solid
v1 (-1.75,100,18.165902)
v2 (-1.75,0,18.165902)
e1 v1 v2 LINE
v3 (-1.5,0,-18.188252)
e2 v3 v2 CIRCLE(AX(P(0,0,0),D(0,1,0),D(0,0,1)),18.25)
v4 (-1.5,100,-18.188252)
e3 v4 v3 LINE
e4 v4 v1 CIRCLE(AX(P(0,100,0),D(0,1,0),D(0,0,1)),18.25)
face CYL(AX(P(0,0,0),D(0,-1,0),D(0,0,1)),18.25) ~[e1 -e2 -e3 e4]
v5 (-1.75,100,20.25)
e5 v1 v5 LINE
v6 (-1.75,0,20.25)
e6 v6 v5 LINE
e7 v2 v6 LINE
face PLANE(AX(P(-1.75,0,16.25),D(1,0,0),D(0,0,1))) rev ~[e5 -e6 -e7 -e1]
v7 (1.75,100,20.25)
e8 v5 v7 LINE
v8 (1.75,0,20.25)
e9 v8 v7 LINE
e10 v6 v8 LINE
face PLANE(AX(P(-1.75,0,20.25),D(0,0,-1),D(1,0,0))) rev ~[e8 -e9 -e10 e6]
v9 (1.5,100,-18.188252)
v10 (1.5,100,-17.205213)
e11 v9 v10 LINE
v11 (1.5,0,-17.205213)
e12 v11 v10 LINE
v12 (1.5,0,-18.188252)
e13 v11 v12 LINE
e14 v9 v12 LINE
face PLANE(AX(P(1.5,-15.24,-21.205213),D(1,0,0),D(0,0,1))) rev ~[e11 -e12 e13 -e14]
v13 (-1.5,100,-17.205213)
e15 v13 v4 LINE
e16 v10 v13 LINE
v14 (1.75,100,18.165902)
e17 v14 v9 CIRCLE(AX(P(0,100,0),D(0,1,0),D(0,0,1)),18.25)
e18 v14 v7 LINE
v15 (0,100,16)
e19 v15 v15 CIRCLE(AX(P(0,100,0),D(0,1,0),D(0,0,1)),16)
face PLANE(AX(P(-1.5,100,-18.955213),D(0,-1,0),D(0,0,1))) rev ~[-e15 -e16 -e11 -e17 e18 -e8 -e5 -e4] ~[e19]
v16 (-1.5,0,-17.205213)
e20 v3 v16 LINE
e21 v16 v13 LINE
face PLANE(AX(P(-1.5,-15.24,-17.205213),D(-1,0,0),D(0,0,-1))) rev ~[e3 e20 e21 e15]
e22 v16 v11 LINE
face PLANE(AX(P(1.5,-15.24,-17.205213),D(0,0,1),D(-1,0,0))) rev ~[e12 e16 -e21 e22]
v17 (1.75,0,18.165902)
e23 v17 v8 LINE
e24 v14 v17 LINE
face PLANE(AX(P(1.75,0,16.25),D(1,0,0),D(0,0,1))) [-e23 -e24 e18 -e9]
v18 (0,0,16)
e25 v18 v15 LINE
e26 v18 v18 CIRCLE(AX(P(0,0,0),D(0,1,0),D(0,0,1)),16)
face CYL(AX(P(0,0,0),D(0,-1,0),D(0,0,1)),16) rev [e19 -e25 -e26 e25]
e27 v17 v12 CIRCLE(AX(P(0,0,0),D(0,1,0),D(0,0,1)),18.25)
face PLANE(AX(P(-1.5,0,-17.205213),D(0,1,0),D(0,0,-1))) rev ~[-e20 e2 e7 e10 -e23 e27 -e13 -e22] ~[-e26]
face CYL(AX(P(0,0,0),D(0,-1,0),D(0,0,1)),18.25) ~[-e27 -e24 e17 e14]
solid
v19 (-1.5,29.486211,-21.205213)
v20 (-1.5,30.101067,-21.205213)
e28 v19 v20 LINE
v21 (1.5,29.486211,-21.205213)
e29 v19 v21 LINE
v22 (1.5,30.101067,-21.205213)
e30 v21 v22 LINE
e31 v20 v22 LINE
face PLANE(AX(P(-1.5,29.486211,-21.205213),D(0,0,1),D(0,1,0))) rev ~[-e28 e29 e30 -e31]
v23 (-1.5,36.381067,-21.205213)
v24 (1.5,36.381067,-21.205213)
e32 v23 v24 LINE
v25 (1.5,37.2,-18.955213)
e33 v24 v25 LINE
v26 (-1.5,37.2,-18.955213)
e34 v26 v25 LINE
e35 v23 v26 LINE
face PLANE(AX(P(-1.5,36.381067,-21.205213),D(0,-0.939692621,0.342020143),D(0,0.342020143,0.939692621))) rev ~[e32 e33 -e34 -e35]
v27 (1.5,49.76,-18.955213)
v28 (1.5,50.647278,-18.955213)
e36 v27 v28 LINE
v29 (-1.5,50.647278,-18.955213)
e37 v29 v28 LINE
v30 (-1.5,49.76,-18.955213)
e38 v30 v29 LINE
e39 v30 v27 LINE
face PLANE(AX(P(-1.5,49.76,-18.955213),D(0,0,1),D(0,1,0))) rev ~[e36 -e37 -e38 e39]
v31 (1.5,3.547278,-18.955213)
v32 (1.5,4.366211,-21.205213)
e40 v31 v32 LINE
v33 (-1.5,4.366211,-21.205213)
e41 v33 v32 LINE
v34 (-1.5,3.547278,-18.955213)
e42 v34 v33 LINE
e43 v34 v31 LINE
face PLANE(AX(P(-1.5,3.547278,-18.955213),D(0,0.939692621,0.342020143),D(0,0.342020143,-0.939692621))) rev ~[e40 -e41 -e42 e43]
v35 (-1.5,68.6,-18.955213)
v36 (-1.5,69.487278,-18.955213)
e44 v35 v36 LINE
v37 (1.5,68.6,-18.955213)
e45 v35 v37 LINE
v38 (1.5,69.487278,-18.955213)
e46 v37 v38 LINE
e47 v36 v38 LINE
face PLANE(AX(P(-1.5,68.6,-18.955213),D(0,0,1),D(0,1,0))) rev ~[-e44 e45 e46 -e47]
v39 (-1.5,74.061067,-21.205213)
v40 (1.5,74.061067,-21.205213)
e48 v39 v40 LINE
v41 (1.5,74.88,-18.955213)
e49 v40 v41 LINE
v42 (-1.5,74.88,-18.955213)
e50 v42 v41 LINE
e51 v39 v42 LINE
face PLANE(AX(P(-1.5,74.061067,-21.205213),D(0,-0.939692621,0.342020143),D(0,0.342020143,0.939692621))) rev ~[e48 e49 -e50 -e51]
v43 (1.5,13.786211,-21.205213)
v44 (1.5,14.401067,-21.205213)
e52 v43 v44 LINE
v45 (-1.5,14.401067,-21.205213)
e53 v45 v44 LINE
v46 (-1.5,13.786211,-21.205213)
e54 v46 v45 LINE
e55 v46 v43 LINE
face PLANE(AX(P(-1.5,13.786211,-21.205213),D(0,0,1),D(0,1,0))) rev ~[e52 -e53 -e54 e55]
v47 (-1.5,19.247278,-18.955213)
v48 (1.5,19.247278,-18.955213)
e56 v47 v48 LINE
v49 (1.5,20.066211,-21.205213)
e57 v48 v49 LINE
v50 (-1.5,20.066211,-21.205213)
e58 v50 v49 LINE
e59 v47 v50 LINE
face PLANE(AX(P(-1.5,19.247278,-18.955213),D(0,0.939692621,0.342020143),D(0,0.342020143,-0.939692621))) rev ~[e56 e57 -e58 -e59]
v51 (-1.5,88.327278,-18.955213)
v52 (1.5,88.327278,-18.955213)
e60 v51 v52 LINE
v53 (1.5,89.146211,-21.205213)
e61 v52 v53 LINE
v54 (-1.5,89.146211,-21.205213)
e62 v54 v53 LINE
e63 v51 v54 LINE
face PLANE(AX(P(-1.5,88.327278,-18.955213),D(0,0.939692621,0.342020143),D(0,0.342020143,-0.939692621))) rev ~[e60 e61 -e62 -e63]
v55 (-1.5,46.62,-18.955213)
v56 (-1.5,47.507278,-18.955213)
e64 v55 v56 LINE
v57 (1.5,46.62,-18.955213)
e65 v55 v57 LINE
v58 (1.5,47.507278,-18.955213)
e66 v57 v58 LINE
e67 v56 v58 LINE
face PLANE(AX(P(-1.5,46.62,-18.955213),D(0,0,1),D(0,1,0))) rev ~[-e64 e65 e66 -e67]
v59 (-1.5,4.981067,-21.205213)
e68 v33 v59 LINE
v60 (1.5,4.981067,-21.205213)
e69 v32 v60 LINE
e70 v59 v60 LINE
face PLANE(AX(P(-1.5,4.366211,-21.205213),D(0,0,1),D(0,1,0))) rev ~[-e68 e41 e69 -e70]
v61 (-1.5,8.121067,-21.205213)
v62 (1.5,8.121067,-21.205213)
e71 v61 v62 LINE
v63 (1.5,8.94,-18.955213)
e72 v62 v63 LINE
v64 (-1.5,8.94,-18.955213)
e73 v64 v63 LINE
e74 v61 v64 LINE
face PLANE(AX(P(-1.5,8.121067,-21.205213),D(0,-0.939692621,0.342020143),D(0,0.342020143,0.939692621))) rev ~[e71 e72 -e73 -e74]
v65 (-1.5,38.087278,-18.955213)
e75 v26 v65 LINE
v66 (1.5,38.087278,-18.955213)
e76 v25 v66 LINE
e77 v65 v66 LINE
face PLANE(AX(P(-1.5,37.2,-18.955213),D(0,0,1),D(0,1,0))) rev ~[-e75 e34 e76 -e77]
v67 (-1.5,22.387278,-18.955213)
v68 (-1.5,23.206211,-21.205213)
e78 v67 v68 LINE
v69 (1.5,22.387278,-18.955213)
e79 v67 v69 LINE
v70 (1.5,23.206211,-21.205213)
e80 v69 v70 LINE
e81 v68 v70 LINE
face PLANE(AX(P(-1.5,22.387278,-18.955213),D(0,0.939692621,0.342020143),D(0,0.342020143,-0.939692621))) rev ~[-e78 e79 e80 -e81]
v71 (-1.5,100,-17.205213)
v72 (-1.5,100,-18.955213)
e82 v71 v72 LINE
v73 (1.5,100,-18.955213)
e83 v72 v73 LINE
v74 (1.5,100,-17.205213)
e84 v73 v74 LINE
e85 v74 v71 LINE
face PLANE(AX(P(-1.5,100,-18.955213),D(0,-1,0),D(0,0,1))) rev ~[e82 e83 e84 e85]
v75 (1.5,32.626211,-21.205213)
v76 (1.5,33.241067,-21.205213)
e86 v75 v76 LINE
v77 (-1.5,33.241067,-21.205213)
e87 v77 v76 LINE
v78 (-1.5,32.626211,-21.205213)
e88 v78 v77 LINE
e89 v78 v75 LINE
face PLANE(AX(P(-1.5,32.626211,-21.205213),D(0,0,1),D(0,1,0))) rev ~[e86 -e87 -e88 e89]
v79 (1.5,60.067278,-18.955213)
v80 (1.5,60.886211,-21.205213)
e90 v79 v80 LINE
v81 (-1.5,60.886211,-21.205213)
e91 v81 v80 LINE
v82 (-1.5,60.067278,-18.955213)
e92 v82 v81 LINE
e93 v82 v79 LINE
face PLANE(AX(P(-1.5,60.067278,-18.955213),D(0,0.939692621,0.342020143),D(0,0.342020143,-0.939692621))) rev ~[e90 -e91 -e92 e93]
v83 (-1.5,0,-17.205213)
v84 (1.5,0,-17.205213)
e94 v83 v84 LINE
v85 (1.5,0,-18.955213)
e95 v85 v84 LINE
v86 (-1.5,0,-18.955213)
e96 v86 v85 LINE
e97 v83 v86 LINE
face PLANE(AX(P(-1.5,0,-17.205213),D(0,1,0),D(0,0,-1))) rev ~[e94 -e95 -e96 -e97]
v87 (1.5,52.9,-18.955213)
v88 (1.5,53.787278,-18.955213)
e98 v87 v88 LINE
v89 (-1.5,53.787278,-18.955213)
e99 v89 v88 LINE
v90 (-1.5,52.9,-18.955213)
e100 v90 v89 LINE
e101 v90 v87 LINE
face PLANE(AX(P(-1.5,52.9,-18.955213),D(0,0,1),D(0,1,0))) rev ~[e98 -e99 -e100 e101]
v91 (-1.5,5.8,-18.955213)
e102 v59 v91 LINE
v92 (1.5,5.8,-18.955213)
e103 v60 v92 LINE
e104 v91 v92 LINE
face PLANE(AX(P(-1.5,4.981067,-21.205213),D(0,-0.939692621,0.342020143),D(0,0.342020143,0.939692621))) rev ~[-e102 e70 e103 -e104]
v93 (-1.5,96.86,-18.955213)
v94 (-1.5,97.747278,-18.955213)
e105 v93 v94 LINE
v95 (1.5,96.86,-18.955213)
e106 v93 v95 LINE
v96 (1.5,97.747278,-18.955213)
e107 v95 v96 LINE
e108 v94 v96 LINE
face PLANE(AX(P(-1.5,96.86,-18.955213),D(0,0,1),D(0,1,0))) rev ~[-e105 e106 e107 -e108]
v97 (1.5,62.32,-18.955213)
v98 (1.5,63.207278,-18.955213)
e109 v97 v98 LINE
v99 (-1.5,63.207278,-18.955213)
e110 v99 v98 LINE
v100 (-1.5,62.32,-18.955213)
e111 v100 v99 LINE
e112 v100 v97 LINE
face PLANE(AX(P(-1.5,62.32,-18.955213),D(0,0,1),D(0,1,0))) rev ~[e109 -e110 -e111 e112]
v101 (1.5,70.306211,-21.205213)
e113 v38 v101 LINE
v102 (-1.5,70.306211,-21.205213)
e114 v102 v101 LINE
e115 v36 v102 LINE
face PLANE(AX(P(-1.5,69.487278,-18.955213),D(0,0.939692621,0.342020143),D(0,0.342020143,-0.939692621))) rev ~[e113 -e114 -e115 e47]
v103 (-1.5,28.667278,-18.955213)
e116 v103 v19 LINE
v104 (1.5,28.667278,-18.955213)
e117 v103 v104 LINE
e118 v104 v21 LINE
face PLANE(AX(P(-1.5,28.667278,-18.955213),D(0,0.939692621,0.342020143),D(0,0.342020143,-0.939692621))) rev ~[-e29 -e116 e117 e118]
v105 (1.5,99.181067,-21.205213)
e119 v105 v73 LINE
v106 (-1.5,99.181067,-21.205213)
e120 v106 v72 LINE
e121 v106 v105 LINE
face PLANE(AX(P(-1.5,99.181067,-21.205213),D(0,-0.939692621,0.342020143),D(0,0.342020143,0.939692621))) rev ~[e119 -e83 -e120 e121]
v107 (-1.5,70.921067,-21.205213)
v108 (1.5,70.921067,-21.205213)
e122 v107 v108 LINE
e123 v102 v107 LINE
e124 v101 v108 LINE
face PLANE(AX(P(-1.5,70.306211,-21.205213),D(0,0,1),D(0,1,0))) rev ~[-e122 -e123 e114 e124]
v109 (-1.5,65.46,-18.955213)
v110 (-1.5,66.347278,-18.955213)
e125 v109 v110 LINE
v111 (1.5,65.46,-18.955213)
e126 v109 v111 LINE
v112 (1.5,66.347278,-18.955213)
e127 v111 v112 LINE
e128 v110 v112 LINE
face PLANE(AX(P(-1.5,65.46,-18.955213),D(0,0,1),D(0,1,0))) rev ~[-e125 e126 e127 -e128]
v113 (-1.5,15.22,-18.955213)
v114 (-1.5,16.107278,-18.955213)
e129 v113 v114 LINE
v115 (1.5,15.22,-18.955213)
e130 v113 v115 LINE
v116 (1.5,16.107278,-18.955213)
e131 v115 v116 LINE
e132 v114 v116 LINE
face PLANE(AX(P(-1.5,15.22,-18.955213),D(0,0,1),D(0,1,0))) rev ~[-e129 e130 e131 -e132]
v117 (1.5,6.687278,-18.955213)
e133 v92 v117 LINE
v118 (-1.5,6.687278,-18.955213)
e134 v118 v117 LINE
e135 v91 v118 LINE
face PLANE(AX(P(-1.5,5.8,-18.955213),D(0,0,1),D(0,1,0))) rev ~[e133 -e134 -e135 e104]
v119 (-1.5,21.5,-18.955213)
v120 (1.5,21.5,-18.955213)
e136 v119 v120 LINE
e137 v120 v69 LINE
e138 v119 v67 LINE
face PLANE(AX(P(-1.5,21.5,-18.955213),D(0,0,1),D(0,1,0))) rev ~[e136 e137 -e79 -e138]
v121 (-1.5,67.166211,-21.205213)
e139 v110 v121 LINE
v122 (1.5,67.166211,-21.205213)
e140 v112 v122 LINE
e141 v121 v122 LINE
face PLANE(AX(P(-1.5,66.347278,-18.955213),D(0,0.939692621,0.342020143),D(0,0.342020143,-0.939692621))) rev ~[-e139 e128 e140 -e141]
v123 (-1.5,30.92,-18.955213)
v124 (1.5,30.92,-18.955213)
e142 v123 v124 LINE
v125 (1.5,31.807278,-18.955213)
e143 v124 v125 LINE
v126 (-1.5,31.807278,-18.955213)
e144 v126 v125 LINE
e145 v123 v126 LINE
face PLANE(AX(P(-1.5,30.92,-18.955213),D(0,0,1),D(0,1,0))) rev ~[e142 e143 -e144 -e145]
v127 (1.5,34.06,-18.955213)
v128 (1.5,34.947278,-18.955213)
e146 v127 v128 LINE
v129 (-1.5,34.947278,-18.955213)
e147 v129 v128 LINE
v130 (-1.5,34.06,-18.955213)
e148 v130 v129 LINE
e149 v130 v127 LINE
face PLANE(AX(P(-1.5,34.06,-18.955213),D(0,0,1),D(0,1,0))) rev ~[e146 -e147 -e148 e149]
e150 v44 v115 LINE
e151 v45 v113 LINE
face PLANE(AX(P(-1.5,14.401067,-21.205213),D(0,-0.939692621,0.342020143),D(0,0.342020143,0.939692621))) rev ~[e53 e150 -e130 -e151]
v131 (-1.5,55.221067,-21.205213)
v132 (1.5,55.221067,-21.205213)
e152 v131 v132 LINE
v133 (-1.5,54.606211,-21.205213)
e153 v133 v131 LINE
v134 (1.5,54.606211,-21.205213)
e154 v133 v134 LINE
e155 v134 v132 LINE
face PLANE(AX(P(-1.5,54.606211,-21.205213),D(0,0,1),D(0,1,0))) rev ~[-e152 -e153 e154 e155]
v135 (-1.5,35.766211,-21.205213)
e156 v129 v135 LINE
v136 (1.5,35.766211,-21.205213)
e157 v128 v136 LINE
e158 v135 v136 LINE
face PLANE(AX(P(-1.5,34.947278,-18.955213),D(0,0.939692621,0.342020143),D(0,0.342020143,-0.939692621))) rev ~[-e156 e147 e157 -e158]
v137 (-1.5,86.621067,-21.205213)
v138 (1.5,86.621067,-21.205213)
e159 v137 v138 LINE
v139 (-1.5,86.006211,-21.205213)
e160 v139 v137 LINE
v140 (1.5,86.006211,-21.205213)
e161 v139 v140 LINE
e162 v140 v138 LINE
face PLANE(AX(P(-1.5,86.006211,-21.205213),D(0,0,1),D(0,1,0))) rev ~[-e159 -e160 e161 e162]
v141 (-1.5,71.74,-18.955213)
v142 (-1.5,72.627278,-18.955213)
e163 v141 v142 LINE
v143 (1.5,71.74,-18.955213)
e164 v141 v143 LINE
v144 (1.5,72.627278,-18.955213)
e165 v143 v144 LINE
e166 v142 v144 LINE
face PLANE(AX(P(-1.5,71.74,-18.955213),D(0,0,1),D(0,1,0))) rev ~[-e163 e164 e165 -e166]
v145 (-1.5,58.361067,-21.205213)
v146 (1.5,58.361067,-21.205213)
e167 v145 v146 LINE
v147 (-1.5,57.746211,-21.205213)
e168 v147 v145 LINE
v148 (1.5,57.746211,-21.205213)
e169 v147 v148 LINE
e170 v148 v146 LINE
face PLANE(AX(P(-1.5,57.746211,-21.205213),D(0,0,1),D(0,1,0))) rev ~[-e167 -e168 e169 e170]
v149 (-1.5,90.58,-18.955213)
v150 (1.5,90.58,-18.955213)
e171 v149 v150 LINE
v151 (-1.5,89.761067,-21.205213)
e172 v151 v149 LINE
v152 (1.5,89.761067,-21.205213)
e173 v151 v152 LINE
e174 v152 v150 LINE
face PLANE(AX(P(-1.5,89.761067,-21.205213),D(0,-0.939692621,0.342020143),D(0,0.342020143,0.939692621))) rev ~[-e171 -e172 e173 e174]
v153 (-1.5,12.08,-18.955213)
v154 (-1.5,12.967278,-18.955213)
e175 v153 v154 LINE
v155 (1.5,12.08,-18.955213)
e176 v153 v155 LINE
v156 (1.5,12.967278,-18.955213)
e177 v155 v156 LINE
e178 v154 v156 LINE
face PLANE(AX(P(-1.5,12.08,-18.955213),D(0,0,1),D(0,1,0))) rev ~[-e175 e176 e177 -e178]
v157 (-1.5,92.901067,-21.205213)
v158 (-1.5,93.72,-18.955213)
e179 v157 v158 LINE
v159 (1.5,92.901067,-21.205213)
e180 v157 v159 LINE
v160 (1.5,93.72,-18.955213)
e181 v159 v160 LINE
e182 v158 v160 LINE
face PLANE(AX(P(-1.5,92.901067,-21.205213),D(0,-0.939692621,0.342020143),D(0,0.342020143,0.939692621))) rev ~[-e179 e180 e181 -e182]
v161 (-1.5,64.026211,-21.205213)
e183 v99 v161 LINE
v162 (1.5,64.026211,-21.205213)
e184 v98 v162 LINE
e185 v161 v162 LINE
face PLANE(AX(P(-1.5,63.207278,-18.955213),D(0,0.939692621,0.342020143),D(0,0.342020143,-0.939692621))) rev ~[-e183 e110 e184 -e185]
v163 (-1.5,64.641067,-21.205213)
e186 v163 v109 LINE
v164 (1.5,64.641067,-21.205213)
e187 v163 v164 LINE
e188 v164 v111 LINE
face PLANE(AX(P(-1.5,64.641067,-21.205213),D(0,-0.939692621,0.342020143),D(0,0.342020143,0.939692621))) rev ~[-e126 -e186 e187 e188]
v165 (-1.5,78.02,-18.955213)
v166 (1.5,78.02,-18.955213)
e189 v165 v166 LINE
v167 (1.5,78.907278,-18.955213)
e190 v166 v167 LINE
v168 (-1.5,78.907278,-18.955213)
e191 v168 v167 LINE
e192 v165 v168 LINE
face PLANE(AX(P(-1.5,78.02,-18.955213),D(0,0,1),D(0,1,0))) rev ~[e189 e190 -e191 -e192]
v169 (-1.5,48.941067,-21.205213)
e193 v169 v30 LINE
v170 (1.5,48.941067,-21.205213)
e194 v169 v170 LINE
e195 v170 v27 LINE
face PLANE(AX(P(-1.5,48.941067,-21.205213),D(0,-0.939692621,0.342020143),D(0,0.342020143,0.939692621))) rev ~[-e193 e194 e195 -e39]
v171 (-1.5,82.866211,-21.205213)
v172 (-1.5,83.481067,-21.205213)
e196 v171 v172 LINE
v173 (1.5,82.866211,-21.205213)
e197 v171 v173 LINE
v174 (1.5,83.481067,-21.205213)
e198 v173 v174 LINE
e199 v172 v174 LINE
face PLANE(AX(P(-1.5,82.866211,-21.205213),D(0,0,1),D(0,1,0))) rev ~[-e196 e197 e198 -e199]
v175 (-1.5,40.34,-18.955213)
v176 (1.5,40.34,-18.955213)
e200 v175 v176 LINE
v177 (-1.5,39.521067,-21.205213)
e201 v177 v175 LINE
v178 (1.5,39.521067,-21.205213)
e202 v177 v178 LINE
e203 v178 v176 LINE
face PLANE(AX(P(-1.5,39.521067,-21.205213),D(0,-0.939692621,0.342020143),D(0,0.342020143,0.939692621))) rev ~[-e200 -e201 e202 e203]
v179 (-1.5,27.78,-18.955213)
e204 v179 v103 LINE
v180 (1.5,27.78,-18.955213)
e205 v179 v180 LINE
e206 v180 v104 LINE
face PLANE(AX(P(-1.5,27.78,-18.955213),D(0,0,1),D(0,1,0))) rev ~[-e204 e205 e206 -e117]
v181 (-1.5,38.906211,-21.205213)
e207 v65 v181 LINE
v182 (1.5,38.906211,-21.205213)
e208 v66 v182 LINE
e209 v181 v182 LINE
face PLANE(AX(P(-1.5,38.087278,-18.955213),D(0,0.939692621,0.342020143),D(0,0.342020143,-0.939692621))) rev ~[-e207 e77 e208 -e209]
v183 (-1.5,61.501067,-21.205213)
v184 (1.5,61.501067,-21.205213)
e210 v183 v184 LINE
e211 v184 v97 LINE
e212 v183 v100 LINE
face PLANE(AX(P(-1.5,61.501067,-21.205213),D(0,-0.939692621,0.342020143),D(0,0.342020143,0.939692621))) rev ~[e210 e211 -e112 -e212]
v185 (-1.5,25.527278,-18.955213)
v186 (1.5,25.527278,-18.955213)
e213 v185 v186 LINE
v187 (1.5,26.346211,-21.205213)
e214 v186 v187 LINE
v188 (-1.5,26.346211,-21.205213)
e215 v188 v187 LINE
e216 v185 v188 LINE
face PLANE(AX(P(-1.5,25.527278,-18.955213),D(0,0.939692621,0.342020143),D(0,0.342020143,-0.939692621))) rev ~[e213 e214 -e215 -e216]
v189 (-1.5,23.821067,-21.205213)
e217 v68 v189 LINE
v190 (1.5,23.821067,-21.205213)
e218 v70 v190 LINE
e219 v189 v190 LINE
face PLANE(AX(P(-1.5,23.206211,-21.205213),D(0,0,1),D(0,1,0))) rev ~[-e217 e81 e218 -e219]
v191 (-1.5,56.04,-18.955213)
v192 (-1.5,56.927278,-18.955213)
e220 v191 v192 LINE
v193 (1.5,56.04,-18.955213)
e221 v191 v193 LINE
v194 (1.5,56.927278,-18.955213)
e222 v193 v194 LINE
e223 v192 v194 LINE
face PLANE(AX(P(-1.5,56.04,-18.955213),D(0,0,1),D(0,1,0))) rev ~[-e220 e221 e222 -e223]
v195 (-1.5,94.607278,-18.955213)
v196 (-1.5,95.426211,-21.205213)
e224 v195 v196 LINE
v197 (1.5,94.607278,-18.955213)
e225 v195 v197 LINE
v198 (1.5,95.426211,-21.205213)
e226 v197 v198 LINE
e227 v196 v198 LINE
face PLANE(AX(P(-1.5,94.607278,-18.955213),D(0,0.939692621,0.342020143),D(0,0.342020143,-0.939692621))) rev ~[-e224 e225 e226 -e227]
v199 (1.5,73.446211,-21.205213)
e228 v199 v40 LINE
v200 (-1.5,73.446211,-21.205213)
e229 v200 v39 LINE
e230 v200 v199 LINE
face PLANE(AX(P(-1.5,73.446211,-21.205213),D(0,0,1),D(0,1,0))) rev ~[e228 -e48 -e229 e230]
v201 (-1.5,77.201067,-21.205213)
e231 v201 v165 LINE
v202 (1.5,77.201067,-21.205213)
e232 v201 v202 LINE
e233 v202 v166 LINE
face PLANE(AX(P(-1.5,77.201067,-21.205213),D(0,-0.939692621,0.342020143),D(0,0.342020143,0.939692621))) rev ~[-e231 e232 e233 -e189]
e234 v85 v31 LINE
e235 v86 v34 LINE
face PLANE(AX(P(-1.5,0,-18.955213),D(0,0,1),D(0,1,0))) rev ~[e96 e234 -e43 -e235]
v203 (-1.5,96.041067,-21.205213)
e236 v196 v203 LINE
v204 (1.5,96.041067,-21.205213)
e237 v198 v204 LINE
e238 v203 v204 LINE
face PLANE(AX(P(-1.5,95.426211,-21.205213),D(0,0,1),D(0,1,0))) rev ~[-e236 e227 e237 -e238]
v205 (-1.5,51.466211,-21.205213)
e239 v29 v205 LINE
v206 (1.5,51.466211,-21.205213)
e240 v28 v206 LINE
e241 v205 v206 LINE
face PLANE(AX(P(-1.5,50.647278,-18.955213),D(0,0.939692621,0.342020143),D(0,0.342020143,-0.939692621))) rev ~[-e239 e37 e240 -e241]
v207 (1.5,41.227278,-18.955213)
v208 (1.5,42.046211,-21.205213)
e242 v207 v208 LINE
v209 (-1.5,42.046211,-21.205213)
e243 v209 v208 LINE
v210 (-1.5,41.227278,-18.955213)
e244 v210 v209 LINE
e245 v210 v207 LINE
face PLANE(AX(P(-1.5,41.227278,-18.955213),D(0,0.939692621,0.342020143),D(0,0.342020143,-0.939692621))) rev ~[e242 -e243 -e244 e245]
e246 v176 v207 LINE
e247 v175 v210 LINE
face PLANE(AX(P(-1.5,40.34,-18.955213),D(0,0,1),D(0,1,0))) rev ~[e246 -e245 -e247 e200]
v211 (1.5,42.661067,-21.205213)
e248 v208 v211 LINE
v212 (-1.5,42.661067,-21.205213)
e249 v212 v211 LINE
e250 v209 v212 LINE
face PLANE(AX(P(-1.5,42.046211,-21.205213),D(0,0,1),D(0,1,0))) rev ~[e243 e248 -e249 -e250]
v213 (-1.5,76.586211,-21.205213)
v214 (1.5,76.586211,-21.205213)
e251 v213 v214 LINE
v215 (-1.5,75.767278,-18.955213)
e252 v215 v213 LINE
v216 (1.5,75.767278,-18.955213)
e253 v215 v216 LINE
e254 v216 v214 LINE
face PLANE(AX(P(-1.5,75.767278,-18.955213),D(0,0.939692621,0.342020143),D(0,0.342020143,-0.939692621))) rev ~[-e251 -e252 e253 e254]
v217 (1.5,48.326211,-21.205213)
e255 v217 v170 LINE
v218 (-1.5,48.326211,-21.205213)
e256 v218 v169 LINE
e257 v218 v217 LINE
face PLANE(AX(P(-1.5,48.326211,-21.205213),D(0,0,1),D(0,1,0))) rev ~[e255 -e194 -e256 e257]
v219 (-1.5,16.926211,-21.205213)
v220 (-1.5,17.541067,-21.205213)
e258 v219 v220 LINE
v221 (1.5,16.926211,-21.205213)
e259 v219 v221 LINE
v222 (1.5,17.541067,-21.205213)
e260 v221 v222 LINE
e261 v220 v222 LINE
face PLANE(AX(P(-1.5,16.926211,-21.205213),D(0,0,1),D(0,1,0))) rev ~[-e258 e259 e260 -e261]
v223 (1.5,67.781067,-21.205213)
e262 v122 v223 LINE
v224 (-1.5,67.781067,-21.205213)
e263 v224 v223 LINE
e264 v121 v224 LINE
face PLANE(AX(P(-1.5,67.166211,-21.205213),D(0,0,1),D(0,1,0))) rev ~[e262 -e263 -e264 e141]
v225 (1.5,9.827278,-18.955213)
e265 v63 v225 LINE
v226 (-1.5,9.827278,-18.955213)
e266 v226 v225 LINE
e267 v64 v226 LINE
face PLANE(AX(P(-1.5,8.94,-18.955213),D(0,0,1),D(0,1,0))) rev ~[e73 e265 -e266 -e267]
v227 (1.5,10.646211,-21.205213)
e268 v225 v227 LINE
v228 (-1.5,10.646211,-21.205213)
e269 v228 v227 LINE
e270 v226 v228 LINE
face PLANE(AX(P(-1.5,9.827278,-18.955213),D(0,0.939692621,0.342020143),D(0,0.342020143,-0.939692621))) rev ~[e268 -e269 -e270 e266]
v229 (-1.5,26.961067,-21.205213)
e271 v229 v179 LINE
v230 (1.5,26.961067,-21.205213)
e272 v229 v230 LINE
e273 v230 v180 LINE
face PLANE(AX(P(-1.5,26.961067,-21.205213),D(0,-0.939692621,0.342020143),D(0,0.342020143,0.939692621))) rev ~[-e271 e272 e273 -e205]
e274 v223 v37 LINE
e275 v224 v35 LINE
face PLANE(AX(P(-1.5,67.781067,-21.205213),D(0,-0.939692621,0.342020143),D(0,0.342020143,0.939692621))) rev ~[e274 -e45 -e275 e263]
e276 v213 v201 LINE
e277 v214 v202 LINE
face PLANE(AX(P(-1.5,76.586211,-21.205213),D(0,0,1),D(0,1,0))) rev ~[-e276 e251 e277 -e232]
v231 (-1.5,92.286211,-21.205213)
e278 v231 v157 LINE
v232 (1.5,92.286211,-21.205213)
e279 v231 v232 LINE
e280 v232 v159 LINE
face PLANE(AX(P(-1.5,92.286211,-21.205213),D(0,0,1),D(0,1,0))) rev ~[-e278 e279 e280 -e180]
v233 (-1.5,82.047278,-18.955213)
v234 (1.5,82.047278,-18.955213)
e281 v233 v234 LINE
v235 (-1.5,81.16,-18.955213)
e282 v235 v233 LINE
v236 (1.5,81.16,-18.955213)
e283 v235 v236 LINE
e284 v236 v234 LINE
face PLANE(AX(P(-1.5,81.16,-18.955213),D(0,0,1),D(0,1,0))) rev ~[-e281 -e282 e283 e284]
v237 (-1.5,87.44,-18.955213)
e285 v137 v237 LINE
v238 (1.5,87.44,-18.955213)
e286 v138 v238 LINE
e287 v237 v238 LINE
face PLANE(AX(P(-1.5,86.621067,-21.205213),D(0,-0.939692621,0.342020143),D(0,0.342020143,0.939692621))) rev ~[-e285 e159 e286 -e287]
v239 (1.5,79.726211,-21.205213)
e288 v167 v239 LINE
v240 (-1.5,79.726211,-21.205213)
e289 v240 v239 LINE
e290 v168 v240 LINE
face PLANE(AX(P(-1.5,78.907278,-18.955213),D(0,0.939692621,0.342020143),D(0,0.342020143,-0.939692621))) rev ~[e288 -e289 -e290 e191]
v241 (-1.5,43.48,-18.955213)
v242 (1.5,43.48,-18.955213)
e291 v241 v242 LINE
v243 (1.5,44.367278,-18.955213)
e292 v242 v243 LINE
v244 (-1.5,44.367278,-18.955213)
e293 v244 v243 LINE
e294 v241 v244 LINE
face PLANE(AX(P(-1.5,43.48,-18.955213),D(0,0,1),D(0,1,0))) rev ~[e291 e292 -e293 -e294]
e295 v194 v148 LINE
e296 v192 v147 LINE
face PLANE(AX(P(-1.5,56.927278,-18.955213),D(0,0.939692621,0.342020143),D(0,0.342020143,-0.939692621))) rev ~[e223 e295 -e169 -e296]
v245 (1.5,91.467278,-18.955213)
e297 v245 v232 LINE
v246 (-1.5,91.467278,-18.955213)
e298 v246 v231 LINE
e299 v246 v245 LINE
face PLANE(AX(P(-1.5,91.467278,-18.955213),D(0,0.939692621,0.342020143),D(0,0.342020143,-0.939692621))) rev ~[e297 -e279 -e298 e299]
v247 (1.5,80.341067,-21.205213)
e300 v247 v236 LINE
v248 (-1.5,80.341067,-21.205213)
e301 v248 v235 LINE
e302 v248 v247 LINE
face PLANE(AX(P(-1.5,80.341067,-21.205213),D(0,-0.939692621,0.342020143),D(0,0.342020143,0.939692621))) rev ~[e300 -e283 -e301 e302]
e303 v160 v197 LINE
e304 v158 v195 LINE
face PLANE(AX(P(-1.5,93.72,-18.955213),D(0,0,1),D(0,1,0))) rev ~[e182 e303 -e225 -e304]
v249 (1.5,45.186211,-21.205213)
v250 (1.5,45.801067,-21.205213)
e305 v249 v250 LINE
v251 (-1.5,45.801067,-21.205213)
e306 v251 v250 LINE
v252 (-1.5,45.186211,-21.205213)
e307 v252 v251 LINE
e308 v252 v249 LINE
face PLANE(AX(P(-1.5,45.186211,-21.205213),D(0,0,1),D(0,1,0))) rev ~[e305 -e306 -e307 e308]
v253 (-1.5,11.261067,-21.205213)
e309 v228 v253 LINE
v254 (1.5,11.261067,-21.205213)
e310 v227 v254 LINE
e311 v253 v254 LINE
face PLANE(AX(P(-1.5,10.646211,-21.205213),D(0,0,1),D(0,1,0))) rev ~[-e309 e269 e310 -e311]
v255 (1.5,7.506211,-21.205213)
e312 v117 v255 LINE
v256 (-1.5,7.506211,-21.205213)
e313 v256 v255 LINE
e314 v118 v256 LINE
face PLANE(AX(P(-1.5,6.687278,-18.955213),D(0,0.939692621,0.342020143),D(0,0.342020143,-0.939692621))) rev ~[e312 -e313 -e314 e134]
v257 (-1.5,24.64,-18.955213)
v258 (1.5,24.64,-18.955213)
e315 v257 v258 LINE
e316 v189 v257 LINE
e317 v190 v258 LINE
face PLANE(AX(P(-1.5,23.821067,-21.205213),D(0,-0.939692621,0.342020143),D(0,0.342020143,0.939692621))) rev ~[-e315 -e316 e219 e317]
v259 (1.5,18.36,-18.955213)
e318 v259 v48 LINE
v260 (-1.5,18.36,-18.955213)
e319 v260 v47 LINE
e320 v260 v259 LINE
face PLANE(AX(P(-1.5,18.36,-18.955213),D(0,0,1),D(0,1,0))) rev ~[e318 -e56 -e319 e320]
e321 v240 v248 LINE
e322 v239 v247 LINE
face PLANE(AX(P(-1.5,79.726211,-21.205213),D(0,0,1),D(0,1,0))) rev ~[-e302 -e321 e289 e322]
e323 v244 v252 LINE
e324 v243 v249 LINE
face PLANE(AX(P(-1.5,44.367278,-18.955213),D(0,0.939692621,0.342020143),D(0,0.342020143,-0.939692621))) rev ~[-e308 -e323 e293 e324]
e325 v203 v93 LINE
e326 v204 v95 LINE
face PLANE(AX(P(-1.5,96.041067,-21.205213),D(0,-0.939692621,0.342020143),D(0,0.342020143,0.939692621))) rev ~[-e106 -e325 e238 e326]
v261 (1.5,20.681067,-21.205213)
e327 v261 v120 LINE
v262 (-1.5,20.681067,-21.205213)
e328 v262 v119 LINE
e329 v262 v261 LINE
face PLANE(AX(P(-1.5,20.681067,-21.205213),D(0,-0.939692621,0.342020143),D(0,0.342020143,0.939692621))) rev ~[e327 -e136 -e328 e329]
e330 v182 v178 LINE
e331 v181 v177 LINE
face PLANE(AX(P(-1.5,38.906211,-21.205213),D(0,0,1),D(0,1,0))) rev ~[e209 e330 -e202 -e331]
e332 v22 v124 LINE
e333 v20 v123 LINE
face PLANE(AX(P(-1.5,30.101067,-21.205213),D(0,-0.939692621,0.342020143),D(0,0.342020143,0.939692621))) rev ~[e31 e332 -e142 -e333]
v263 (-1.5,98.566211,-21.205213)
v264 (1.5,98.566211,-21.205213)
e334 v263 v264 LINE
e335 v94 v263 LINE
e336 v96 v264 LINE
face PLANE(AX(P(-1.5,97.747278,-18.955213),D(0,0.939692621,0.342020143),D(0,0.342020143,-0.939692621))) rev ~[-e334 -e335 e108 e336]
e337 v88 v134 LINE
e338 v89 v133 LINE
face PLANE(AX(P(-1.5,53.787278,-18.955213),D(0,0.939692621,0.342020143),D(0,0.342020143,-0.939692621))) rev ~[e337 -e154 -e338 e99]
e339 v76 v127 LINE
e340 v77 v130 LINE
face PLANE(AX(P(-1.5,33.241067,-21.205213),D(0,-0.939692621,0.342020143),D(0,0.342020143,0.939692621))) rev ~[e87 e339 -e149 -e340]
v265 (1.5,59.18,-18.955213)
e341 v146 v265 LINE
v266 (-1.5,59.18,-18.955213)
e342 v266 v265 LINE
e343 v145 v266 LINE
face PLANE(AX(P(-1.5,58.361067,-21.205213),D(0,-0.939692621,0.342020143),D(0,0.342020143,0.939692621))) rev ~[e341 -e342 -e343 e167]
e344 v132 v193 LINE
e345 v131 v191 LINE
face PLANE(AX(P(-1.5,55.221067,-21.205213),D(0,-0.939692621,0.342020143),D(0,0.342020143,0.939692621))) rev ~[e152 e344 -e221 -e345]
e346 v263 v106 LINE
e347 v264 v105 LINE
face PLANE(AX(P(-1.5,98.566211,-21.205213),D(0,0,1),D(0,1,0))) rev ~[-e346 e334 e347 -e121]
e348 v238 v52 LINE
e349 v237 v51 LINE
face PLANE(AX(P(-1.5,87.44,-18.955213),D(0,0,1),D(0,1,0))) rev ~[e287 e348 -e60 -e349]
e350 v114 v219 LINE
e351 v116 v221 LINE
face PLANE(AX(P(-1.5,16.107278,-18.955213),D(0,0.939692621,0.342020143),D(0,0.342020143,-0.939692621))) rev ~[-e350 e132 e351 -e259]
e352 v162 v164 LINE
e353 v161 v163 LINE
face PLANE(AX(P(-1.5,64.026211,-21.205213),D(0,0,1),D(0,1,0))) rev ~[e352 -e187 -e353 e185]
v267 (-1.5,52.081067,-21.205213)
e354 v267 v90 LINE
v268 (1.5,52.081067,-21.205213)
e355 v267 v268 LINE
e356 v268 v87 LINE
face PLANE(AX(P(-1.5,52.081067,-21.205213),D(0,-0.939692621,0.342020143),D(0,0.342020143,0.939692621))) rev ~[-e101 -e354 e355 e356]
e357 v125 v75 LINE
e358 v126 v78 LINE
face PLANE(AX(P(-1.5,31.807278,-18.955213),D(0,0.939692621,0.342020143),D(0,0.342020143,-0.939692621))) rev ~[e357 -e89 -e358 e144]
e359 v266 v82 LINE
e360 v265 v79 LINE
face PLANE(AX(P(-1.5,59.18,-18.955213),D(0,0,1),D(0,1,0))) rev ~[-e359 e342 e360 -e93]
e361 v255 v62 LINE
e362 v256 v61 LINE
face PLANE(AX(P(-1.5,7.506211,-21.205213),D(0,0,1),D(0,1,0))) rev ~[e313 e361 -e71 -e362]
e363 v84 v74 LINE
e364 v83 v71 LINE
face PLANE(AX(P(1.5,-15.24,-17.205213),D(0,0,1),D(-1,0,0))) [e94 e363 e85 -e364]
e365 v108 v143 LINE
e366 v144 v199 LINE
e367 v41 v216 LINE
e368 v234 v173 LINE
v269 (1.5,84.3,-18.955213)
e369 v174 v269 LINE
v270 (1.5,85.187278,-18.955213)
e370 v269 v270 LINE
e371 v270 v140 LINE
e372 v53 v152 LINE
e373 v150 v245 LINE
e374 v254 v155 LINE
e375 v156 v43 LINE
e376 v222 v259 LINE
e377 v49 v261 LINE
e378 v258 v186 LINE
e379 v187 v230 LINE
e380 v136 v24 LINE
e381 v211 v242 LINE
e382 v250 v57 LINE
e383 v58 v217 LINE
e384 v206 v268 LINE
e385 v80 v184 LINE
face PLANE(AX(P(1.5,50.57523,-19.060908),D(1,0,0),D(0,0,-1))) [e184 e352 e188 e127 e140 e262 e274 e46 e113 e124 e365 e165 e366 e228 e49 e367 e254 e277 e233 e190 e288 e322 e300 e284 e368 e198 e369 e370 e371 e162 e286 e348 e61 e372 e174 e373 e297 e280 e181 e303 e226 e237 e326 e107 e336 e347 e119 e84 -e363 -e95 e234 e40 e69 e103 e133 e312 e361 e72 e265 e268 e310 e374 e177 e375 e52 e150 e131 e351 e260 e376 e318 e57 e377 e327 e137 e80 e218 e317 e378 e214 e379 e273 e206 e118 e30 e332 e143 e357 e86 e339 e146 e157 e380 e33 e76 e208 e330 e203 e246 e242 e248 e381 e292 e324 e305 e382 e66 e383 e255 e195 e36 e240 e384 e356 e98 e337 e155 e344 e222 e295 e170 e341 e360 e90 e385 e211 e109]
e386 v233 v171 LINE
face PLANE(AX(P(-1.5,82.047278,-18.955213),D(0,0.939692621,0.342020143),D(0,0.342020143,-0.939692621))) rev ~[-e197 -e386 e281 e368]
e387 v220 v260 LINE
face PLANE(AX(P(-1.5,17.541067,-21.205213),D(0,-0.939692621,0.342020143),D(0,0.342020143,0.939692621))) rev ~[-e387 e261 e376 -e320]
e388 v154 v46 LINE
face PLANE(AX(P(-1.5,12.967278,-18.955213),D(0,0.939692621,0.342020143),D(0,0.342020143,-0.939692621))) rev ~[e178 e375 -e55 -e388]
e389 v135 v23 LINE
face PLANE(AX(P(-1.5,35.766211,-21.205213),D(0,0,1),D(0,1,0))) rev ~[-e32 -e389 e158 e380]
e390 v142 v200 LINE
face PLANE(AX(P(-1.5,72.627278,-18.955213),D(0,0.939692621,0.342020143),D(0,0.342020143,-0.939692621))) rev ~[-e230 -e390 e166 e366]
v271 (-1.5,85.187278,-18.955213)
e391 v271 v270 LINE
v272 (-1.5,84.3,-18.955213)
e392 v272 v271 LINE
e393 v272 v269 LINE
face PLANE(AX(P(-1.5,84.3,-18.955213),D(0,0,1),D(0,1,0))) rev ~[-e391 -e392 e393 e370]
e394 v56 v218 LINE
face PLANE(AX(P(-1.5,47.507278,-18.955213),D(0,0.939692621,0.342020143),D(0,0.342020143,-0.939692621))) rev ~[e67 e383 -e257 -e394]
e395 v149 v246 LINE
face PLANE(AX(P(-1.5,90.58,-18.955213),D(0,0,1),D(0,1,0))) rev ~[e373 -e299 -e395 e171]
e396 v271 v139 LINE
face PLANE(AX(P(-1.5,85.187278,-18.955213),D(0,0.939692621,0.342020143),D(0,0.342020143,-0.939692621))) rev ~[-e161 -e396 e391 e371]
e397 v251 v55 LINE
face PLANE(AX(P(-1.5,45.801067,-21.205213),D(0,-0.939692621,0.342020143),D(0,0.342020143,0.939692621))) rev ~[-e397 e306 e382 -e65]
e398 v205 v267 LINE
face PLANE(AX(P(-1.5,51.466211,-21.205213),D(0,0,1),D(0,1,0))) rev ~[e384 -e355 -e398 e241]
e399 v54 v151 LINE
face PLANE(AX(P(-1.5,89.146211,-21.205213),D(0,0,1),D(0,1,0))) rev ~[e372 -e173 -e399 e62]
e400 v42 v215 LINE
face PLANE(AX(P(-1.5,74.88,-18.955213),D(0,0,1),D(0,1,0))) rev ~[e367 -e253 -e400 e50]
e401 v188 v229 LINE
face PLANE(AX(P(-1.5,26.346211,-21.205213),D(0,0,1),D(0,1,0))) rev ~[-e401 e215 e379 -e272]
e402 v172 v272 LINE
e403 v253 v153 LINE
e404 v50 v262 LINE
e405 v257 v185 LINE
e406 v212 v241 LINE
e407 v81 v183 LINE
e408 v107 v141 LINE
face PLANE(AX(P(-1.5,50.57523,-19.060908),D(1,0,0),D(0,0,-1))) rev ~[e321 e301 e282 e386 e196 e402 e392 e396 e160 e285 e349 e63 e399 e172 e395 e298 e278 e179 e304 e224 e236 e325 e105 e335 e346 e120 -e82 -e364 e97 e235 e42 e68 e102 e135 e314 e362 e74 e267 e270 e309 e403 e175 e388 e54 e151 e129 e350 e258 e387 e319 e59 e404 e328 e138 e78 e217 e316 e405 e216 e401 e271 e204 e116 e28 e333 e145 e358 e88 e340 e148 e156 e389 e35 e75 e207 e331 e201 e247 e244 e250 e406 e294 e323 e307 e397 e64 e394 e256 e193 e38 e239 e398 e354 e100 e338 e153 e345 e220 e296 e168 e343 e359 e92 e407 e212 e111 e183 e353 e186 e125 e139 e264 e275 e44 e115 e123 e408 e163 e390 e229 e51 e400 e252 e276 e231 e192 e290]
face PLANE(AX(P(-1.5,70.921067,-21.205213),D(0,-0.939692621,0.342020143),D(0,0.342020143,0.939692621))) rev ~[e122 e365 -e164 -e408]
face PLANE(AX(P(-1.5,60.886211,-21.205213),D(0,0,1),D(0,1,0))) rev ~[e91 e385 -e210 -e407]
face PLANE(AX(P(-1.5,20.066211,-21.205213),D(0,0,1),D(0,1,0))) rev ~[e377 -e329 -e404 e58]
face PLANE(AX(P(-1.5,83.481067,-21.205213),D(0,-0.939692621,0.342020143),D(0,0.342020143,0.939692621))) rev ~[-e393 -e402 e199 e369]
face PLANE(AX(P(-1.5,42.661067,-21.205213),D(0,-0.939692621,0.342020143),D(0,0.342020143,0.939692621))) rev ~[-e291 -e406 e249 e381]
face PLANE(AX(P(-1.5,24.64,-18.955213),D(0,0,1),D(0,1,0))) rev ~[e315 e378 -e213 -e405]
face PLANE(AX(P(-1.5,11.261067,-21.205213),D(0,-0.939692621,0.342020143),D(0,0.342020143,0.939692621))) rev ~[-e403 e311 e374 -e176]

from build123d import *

# Parameters (mm, degrees)
SKETCH_1_R                     = 18.25
SKETCH_1_R_2                   = 16
EXTRUDE_1_DEPTH                = 100
EXTRUDE_2_DEPTH                = 1.5
EXTRUDE_2_DEPTH_BACK           = 1.5
SKETCH_5_W                     = 3.5
SKETCH_5_H                     = 4
EXTRUDE_4_DEPTH                = 100
SPLIT_BODIES_2_SURFACE_1_BACK  = 115.24
SPLIT_BODIES_2_SURFACE_1_DEPTH = 230.48
SPLIT_BODIES_2_SURFACE_2_BACK  = 115.24
SPLIT_BODIES_2_SURFACE_2_DEPTH = 230.48


with BuildPart() as part:
    # Эскиз1 → Бобышка-Вытянуть1 (new body)
    with BuildSketch(Plane(origin=(0, 0, 0), x_dir=(1, 0, 0), z_dir=(0, 1, 0))):
        with Locations(Location((0, 0, 0), (0, 0, 270))):
            Circle(SKETCH_1_R)
        with Locations(Location((0, 0, 0), (0, 0, 270))):
            Circle(SKETCH_1_R_2, mode=Mode.SUBTRACT)
    extrude(amount=EXTRUDE_1_DEPTH)

    # Эскиз3 → Бобышка-Вытянуть2 (add, two sides: drawn at the far end of the back side and taken through both)
    with BuildSketch(Plane(origin=(0, 0, 0), x_dir=(0, 0, -1), z_dir=(1, 0, 0)).offset(-EXTRUDE_2_DEPTH_BACK)):
        Polygon((21.205212662, 96.041066973), (18.955212662, 96.86), (18.955212662, 97.747278089), (21.205212662, 98.566211116), (21.205212662, 99.181066973), (18.955212662, 100), (17.205212662, 100), (17.205212662, 0), (18.955212662, 0), (18.955212662, 2.65840735), (18.955212662, 3.547278089), (21.205212662, 4.366211116), (21.205212662, 4.981066973), (18.955212662, 5.8), (18.955212662, 6.687278089), (21.205212662, 7.506211116), (21.205212662, 8.121066973), (18.955212662, 8.94), (18.955212662, 9.827278089), (21.205212662, 10.646211116), (21.205212662, 11.261066973), (18.955212662, 12.08), (18.955212662, 12.967278089), (21.205212662, 13.786211116), (21.205212662, 14.401066973), (18.955212662, 15.22), (18.955212662, 16.107278089), (21.205212662, 16.926211116), (21.205212662, 17.541066973), (18.955212662, 18.36), (18.955212662, 19.247278089), (21.205212662, 20.066211116), (21.205212662, 20.681066973), (18.955212662, 21.5), (18.955212662, 22.387278089), (21.205212662, 23.206211116), (21.205212662, 23.821066973), (18.955212662, 24.64), (18.955212662, 25.527278089), (21.205212662, 26.346211116), (21.205212662, 26.961066973), (18.955212662, 27.78), (18.955212662, 28.667278089), (21.205212662, 29.486211116), (21.205212662, 30.101066973), (18.955212662, 30.92), (18.955212662, 31.807278089), (21.205212662, 32.626211116), (21.205212662, 33.241066973), (18.955212662, 34.06), (18.955212662, 34.947278089), (21.205212662, 35.766211116), (21.205212662, 36.381066973), (18.955212662, 37.2), (18.955212662, 38.087278089), (21.205212662, 38.906211116), (21.205212662, 39.521066973), (18.955212662, 40.34), (18.955212662, 41.227278089), (21.205212662, 42.046211116), (21.205212662, 42.661066973), (18.955212662, 43.48), (18.955212662, 44.367278089), (21.205212662, 45.186211116), (21.205212662, 45.801066973), (18.955212662, 46.62), (18.955212662, 47.507278089), (21.205212662, 48.326211116), (21.205212662, 48.941066973), (18.955212662, 49.76), (18.955212662, 50.647278089), (21.205212662, 51.466211116), (21.205212662, 52.081066973), (18.955212662, 52.9), (18.955212662, 53.787278089), (21.205212662, 54.606211116), (21.205212662, 55.221066973), (18.955212662, 56.04), (18.955212662, 56.927278089), (21.205212662, 57.746211116), (21.205212662, 58.361066973), (18.955212662, 59.18), (18.955212662, 60.067278089), (21.205212662, 60.886211116), (21.205212662, 61.501066973), (18.955212662, 62.32), (18.955212662, 63.207278089), (21.205212662, 64.026211116), (21.205212662, 64.641066973), (18.955212662, 65.46), (18.955212662, 66.347278089), (21.205212662, 67.166211116), (21.205212662, 67.781066973), (18.955212662, 68.6), (18.955212662, 69.487278089), (21.205212662, 70.306211116), (21.205212662, 70.921066973), (18.955212662, 71.74), (18.955212662, 72.627278089), (21.205212662, 73.446211116), (21.205212662, 74.061066973), (18.955212662, 74.88), (18.955212662, 75.767278089), (21.205212662, 76.586211116), (21.205212662, 77.201066973), (18.955212662, 78.02), (18.955212662, 78.907278089), (21.205212662, 79.726211116), (21.205212662, 80.341066973), (18.955212662, 81.16), (18.955212662, 82.047278089), (21.205212662, 82.866211116), (21.205212662, 83.481066973), (18.955212662, 84.3), (18.955212662, 85.187278089), (21.205212662, 86.006211116), (21.205212662, 86.621066973), (18.955212662, 87.44), (18.955212662, 88.327278089), (21.205212662, 89.146211116), (21.205212662, 89.761066973), (18.955212662, 90.58), (18.955212662, 91.467278089), (21.205212662, 92.286211116), (21.205212662, 92.901066973), (18.955212662, 93.72), (18.955212662, 94.607278089), (21.205212662, 95.426211116), align=None)
    extrude(amount=EXTRUDE_2_DEPTH + EXTRUDE_2_DEPTH_BACK)

    # Эскиз5 → Бобышка-Вытянуть4 (add)
    with BuildSketch(Plane.XZ):
        with Locations((0, 18.25)):
            Rectangle(SKETCH_5_W, SKETCH_5_H)
    extrude(amount=-EXTRUDE_4_DEPTH)


with BuildPart() as body_2:
    # Split Bodies 2: the piece behind the surface
    add(part.part)
    # Split Bodies 2 surface: a surface, the sketch's curves swept straight by 230.48 mm
    with BuildLine(Plane(origin=(0, 100, 0), x_dir=(1, 0, 0), z_dir=(0, 1, 0)).offset(-SPLIT_BODIES_2_SURFACE_1_BACK), mode=Mode.PRIVATE) as split_bodies_2_surface_1_path:
        Line((1.5, 21.205212662), (1.5, 17.205212662))
        Line((1.5, 17.205212662), (-1.5, 17.205212662))
        Line((-1.5, 17.205212662), (-1.5, 21.205212662))
    split_bodies_2_surface_1 = Shell.extrude(split_bodies_2_surface_1_path.wire(), (0 * SPLIT_BODIES_2_SURFACE_1_DEPTH, 1 * SPLIT_BODIES_2_SURFACE_1_DEPTH, 0 * SPLIT_BODIES_2_SURFACE_1_DEPTH))
    split(bisect_by=split_bodies_2_surface_1, keep=Keep.BOTTOM)


with BuildPart() as part_1:
    add(part.part)

    # Split Bodies 2: split by a surface, the side it looks to stays
    # Split Bodies 2 surface: a surface, the sketch's curves swept straight by 230.48 mm
    with BuildLine(Plane(origin=(0, 100, 0), x_dir=(1, 0, 0), z_dir=(0, 1, 0)).offset(-SPLIT_BODIES_2_SURFACE_2_BACK), mode=Mode.PRIVATE) as split_bodies_2_surface_2_path:
        Line((1.5, 21.205212662), (1.5, 17.205212662))
        Line((1.5, 17.205212662), (-1.5, 17.205212662))
        Line((-1.5, 17.205212662), (-1.5, 21.205212662))
    split_bodies_2_surface_2 = Shell.extrude(split_bodies_2_surface_2_path.wire(), (0 * SPLIT_BODIES_2_SURFACE_2_DEPTH, 1 * SPLIT_BODIES_2_SURFACE_2_DEPTH, 0 * SPLIT_BODIES_2_SURFACE_2_DEPTH))
    split(bisect_by=split_bodies_2_surface_2, keep=Keep.TOP)


solid = Compound([body_2.part, part_1.part])
